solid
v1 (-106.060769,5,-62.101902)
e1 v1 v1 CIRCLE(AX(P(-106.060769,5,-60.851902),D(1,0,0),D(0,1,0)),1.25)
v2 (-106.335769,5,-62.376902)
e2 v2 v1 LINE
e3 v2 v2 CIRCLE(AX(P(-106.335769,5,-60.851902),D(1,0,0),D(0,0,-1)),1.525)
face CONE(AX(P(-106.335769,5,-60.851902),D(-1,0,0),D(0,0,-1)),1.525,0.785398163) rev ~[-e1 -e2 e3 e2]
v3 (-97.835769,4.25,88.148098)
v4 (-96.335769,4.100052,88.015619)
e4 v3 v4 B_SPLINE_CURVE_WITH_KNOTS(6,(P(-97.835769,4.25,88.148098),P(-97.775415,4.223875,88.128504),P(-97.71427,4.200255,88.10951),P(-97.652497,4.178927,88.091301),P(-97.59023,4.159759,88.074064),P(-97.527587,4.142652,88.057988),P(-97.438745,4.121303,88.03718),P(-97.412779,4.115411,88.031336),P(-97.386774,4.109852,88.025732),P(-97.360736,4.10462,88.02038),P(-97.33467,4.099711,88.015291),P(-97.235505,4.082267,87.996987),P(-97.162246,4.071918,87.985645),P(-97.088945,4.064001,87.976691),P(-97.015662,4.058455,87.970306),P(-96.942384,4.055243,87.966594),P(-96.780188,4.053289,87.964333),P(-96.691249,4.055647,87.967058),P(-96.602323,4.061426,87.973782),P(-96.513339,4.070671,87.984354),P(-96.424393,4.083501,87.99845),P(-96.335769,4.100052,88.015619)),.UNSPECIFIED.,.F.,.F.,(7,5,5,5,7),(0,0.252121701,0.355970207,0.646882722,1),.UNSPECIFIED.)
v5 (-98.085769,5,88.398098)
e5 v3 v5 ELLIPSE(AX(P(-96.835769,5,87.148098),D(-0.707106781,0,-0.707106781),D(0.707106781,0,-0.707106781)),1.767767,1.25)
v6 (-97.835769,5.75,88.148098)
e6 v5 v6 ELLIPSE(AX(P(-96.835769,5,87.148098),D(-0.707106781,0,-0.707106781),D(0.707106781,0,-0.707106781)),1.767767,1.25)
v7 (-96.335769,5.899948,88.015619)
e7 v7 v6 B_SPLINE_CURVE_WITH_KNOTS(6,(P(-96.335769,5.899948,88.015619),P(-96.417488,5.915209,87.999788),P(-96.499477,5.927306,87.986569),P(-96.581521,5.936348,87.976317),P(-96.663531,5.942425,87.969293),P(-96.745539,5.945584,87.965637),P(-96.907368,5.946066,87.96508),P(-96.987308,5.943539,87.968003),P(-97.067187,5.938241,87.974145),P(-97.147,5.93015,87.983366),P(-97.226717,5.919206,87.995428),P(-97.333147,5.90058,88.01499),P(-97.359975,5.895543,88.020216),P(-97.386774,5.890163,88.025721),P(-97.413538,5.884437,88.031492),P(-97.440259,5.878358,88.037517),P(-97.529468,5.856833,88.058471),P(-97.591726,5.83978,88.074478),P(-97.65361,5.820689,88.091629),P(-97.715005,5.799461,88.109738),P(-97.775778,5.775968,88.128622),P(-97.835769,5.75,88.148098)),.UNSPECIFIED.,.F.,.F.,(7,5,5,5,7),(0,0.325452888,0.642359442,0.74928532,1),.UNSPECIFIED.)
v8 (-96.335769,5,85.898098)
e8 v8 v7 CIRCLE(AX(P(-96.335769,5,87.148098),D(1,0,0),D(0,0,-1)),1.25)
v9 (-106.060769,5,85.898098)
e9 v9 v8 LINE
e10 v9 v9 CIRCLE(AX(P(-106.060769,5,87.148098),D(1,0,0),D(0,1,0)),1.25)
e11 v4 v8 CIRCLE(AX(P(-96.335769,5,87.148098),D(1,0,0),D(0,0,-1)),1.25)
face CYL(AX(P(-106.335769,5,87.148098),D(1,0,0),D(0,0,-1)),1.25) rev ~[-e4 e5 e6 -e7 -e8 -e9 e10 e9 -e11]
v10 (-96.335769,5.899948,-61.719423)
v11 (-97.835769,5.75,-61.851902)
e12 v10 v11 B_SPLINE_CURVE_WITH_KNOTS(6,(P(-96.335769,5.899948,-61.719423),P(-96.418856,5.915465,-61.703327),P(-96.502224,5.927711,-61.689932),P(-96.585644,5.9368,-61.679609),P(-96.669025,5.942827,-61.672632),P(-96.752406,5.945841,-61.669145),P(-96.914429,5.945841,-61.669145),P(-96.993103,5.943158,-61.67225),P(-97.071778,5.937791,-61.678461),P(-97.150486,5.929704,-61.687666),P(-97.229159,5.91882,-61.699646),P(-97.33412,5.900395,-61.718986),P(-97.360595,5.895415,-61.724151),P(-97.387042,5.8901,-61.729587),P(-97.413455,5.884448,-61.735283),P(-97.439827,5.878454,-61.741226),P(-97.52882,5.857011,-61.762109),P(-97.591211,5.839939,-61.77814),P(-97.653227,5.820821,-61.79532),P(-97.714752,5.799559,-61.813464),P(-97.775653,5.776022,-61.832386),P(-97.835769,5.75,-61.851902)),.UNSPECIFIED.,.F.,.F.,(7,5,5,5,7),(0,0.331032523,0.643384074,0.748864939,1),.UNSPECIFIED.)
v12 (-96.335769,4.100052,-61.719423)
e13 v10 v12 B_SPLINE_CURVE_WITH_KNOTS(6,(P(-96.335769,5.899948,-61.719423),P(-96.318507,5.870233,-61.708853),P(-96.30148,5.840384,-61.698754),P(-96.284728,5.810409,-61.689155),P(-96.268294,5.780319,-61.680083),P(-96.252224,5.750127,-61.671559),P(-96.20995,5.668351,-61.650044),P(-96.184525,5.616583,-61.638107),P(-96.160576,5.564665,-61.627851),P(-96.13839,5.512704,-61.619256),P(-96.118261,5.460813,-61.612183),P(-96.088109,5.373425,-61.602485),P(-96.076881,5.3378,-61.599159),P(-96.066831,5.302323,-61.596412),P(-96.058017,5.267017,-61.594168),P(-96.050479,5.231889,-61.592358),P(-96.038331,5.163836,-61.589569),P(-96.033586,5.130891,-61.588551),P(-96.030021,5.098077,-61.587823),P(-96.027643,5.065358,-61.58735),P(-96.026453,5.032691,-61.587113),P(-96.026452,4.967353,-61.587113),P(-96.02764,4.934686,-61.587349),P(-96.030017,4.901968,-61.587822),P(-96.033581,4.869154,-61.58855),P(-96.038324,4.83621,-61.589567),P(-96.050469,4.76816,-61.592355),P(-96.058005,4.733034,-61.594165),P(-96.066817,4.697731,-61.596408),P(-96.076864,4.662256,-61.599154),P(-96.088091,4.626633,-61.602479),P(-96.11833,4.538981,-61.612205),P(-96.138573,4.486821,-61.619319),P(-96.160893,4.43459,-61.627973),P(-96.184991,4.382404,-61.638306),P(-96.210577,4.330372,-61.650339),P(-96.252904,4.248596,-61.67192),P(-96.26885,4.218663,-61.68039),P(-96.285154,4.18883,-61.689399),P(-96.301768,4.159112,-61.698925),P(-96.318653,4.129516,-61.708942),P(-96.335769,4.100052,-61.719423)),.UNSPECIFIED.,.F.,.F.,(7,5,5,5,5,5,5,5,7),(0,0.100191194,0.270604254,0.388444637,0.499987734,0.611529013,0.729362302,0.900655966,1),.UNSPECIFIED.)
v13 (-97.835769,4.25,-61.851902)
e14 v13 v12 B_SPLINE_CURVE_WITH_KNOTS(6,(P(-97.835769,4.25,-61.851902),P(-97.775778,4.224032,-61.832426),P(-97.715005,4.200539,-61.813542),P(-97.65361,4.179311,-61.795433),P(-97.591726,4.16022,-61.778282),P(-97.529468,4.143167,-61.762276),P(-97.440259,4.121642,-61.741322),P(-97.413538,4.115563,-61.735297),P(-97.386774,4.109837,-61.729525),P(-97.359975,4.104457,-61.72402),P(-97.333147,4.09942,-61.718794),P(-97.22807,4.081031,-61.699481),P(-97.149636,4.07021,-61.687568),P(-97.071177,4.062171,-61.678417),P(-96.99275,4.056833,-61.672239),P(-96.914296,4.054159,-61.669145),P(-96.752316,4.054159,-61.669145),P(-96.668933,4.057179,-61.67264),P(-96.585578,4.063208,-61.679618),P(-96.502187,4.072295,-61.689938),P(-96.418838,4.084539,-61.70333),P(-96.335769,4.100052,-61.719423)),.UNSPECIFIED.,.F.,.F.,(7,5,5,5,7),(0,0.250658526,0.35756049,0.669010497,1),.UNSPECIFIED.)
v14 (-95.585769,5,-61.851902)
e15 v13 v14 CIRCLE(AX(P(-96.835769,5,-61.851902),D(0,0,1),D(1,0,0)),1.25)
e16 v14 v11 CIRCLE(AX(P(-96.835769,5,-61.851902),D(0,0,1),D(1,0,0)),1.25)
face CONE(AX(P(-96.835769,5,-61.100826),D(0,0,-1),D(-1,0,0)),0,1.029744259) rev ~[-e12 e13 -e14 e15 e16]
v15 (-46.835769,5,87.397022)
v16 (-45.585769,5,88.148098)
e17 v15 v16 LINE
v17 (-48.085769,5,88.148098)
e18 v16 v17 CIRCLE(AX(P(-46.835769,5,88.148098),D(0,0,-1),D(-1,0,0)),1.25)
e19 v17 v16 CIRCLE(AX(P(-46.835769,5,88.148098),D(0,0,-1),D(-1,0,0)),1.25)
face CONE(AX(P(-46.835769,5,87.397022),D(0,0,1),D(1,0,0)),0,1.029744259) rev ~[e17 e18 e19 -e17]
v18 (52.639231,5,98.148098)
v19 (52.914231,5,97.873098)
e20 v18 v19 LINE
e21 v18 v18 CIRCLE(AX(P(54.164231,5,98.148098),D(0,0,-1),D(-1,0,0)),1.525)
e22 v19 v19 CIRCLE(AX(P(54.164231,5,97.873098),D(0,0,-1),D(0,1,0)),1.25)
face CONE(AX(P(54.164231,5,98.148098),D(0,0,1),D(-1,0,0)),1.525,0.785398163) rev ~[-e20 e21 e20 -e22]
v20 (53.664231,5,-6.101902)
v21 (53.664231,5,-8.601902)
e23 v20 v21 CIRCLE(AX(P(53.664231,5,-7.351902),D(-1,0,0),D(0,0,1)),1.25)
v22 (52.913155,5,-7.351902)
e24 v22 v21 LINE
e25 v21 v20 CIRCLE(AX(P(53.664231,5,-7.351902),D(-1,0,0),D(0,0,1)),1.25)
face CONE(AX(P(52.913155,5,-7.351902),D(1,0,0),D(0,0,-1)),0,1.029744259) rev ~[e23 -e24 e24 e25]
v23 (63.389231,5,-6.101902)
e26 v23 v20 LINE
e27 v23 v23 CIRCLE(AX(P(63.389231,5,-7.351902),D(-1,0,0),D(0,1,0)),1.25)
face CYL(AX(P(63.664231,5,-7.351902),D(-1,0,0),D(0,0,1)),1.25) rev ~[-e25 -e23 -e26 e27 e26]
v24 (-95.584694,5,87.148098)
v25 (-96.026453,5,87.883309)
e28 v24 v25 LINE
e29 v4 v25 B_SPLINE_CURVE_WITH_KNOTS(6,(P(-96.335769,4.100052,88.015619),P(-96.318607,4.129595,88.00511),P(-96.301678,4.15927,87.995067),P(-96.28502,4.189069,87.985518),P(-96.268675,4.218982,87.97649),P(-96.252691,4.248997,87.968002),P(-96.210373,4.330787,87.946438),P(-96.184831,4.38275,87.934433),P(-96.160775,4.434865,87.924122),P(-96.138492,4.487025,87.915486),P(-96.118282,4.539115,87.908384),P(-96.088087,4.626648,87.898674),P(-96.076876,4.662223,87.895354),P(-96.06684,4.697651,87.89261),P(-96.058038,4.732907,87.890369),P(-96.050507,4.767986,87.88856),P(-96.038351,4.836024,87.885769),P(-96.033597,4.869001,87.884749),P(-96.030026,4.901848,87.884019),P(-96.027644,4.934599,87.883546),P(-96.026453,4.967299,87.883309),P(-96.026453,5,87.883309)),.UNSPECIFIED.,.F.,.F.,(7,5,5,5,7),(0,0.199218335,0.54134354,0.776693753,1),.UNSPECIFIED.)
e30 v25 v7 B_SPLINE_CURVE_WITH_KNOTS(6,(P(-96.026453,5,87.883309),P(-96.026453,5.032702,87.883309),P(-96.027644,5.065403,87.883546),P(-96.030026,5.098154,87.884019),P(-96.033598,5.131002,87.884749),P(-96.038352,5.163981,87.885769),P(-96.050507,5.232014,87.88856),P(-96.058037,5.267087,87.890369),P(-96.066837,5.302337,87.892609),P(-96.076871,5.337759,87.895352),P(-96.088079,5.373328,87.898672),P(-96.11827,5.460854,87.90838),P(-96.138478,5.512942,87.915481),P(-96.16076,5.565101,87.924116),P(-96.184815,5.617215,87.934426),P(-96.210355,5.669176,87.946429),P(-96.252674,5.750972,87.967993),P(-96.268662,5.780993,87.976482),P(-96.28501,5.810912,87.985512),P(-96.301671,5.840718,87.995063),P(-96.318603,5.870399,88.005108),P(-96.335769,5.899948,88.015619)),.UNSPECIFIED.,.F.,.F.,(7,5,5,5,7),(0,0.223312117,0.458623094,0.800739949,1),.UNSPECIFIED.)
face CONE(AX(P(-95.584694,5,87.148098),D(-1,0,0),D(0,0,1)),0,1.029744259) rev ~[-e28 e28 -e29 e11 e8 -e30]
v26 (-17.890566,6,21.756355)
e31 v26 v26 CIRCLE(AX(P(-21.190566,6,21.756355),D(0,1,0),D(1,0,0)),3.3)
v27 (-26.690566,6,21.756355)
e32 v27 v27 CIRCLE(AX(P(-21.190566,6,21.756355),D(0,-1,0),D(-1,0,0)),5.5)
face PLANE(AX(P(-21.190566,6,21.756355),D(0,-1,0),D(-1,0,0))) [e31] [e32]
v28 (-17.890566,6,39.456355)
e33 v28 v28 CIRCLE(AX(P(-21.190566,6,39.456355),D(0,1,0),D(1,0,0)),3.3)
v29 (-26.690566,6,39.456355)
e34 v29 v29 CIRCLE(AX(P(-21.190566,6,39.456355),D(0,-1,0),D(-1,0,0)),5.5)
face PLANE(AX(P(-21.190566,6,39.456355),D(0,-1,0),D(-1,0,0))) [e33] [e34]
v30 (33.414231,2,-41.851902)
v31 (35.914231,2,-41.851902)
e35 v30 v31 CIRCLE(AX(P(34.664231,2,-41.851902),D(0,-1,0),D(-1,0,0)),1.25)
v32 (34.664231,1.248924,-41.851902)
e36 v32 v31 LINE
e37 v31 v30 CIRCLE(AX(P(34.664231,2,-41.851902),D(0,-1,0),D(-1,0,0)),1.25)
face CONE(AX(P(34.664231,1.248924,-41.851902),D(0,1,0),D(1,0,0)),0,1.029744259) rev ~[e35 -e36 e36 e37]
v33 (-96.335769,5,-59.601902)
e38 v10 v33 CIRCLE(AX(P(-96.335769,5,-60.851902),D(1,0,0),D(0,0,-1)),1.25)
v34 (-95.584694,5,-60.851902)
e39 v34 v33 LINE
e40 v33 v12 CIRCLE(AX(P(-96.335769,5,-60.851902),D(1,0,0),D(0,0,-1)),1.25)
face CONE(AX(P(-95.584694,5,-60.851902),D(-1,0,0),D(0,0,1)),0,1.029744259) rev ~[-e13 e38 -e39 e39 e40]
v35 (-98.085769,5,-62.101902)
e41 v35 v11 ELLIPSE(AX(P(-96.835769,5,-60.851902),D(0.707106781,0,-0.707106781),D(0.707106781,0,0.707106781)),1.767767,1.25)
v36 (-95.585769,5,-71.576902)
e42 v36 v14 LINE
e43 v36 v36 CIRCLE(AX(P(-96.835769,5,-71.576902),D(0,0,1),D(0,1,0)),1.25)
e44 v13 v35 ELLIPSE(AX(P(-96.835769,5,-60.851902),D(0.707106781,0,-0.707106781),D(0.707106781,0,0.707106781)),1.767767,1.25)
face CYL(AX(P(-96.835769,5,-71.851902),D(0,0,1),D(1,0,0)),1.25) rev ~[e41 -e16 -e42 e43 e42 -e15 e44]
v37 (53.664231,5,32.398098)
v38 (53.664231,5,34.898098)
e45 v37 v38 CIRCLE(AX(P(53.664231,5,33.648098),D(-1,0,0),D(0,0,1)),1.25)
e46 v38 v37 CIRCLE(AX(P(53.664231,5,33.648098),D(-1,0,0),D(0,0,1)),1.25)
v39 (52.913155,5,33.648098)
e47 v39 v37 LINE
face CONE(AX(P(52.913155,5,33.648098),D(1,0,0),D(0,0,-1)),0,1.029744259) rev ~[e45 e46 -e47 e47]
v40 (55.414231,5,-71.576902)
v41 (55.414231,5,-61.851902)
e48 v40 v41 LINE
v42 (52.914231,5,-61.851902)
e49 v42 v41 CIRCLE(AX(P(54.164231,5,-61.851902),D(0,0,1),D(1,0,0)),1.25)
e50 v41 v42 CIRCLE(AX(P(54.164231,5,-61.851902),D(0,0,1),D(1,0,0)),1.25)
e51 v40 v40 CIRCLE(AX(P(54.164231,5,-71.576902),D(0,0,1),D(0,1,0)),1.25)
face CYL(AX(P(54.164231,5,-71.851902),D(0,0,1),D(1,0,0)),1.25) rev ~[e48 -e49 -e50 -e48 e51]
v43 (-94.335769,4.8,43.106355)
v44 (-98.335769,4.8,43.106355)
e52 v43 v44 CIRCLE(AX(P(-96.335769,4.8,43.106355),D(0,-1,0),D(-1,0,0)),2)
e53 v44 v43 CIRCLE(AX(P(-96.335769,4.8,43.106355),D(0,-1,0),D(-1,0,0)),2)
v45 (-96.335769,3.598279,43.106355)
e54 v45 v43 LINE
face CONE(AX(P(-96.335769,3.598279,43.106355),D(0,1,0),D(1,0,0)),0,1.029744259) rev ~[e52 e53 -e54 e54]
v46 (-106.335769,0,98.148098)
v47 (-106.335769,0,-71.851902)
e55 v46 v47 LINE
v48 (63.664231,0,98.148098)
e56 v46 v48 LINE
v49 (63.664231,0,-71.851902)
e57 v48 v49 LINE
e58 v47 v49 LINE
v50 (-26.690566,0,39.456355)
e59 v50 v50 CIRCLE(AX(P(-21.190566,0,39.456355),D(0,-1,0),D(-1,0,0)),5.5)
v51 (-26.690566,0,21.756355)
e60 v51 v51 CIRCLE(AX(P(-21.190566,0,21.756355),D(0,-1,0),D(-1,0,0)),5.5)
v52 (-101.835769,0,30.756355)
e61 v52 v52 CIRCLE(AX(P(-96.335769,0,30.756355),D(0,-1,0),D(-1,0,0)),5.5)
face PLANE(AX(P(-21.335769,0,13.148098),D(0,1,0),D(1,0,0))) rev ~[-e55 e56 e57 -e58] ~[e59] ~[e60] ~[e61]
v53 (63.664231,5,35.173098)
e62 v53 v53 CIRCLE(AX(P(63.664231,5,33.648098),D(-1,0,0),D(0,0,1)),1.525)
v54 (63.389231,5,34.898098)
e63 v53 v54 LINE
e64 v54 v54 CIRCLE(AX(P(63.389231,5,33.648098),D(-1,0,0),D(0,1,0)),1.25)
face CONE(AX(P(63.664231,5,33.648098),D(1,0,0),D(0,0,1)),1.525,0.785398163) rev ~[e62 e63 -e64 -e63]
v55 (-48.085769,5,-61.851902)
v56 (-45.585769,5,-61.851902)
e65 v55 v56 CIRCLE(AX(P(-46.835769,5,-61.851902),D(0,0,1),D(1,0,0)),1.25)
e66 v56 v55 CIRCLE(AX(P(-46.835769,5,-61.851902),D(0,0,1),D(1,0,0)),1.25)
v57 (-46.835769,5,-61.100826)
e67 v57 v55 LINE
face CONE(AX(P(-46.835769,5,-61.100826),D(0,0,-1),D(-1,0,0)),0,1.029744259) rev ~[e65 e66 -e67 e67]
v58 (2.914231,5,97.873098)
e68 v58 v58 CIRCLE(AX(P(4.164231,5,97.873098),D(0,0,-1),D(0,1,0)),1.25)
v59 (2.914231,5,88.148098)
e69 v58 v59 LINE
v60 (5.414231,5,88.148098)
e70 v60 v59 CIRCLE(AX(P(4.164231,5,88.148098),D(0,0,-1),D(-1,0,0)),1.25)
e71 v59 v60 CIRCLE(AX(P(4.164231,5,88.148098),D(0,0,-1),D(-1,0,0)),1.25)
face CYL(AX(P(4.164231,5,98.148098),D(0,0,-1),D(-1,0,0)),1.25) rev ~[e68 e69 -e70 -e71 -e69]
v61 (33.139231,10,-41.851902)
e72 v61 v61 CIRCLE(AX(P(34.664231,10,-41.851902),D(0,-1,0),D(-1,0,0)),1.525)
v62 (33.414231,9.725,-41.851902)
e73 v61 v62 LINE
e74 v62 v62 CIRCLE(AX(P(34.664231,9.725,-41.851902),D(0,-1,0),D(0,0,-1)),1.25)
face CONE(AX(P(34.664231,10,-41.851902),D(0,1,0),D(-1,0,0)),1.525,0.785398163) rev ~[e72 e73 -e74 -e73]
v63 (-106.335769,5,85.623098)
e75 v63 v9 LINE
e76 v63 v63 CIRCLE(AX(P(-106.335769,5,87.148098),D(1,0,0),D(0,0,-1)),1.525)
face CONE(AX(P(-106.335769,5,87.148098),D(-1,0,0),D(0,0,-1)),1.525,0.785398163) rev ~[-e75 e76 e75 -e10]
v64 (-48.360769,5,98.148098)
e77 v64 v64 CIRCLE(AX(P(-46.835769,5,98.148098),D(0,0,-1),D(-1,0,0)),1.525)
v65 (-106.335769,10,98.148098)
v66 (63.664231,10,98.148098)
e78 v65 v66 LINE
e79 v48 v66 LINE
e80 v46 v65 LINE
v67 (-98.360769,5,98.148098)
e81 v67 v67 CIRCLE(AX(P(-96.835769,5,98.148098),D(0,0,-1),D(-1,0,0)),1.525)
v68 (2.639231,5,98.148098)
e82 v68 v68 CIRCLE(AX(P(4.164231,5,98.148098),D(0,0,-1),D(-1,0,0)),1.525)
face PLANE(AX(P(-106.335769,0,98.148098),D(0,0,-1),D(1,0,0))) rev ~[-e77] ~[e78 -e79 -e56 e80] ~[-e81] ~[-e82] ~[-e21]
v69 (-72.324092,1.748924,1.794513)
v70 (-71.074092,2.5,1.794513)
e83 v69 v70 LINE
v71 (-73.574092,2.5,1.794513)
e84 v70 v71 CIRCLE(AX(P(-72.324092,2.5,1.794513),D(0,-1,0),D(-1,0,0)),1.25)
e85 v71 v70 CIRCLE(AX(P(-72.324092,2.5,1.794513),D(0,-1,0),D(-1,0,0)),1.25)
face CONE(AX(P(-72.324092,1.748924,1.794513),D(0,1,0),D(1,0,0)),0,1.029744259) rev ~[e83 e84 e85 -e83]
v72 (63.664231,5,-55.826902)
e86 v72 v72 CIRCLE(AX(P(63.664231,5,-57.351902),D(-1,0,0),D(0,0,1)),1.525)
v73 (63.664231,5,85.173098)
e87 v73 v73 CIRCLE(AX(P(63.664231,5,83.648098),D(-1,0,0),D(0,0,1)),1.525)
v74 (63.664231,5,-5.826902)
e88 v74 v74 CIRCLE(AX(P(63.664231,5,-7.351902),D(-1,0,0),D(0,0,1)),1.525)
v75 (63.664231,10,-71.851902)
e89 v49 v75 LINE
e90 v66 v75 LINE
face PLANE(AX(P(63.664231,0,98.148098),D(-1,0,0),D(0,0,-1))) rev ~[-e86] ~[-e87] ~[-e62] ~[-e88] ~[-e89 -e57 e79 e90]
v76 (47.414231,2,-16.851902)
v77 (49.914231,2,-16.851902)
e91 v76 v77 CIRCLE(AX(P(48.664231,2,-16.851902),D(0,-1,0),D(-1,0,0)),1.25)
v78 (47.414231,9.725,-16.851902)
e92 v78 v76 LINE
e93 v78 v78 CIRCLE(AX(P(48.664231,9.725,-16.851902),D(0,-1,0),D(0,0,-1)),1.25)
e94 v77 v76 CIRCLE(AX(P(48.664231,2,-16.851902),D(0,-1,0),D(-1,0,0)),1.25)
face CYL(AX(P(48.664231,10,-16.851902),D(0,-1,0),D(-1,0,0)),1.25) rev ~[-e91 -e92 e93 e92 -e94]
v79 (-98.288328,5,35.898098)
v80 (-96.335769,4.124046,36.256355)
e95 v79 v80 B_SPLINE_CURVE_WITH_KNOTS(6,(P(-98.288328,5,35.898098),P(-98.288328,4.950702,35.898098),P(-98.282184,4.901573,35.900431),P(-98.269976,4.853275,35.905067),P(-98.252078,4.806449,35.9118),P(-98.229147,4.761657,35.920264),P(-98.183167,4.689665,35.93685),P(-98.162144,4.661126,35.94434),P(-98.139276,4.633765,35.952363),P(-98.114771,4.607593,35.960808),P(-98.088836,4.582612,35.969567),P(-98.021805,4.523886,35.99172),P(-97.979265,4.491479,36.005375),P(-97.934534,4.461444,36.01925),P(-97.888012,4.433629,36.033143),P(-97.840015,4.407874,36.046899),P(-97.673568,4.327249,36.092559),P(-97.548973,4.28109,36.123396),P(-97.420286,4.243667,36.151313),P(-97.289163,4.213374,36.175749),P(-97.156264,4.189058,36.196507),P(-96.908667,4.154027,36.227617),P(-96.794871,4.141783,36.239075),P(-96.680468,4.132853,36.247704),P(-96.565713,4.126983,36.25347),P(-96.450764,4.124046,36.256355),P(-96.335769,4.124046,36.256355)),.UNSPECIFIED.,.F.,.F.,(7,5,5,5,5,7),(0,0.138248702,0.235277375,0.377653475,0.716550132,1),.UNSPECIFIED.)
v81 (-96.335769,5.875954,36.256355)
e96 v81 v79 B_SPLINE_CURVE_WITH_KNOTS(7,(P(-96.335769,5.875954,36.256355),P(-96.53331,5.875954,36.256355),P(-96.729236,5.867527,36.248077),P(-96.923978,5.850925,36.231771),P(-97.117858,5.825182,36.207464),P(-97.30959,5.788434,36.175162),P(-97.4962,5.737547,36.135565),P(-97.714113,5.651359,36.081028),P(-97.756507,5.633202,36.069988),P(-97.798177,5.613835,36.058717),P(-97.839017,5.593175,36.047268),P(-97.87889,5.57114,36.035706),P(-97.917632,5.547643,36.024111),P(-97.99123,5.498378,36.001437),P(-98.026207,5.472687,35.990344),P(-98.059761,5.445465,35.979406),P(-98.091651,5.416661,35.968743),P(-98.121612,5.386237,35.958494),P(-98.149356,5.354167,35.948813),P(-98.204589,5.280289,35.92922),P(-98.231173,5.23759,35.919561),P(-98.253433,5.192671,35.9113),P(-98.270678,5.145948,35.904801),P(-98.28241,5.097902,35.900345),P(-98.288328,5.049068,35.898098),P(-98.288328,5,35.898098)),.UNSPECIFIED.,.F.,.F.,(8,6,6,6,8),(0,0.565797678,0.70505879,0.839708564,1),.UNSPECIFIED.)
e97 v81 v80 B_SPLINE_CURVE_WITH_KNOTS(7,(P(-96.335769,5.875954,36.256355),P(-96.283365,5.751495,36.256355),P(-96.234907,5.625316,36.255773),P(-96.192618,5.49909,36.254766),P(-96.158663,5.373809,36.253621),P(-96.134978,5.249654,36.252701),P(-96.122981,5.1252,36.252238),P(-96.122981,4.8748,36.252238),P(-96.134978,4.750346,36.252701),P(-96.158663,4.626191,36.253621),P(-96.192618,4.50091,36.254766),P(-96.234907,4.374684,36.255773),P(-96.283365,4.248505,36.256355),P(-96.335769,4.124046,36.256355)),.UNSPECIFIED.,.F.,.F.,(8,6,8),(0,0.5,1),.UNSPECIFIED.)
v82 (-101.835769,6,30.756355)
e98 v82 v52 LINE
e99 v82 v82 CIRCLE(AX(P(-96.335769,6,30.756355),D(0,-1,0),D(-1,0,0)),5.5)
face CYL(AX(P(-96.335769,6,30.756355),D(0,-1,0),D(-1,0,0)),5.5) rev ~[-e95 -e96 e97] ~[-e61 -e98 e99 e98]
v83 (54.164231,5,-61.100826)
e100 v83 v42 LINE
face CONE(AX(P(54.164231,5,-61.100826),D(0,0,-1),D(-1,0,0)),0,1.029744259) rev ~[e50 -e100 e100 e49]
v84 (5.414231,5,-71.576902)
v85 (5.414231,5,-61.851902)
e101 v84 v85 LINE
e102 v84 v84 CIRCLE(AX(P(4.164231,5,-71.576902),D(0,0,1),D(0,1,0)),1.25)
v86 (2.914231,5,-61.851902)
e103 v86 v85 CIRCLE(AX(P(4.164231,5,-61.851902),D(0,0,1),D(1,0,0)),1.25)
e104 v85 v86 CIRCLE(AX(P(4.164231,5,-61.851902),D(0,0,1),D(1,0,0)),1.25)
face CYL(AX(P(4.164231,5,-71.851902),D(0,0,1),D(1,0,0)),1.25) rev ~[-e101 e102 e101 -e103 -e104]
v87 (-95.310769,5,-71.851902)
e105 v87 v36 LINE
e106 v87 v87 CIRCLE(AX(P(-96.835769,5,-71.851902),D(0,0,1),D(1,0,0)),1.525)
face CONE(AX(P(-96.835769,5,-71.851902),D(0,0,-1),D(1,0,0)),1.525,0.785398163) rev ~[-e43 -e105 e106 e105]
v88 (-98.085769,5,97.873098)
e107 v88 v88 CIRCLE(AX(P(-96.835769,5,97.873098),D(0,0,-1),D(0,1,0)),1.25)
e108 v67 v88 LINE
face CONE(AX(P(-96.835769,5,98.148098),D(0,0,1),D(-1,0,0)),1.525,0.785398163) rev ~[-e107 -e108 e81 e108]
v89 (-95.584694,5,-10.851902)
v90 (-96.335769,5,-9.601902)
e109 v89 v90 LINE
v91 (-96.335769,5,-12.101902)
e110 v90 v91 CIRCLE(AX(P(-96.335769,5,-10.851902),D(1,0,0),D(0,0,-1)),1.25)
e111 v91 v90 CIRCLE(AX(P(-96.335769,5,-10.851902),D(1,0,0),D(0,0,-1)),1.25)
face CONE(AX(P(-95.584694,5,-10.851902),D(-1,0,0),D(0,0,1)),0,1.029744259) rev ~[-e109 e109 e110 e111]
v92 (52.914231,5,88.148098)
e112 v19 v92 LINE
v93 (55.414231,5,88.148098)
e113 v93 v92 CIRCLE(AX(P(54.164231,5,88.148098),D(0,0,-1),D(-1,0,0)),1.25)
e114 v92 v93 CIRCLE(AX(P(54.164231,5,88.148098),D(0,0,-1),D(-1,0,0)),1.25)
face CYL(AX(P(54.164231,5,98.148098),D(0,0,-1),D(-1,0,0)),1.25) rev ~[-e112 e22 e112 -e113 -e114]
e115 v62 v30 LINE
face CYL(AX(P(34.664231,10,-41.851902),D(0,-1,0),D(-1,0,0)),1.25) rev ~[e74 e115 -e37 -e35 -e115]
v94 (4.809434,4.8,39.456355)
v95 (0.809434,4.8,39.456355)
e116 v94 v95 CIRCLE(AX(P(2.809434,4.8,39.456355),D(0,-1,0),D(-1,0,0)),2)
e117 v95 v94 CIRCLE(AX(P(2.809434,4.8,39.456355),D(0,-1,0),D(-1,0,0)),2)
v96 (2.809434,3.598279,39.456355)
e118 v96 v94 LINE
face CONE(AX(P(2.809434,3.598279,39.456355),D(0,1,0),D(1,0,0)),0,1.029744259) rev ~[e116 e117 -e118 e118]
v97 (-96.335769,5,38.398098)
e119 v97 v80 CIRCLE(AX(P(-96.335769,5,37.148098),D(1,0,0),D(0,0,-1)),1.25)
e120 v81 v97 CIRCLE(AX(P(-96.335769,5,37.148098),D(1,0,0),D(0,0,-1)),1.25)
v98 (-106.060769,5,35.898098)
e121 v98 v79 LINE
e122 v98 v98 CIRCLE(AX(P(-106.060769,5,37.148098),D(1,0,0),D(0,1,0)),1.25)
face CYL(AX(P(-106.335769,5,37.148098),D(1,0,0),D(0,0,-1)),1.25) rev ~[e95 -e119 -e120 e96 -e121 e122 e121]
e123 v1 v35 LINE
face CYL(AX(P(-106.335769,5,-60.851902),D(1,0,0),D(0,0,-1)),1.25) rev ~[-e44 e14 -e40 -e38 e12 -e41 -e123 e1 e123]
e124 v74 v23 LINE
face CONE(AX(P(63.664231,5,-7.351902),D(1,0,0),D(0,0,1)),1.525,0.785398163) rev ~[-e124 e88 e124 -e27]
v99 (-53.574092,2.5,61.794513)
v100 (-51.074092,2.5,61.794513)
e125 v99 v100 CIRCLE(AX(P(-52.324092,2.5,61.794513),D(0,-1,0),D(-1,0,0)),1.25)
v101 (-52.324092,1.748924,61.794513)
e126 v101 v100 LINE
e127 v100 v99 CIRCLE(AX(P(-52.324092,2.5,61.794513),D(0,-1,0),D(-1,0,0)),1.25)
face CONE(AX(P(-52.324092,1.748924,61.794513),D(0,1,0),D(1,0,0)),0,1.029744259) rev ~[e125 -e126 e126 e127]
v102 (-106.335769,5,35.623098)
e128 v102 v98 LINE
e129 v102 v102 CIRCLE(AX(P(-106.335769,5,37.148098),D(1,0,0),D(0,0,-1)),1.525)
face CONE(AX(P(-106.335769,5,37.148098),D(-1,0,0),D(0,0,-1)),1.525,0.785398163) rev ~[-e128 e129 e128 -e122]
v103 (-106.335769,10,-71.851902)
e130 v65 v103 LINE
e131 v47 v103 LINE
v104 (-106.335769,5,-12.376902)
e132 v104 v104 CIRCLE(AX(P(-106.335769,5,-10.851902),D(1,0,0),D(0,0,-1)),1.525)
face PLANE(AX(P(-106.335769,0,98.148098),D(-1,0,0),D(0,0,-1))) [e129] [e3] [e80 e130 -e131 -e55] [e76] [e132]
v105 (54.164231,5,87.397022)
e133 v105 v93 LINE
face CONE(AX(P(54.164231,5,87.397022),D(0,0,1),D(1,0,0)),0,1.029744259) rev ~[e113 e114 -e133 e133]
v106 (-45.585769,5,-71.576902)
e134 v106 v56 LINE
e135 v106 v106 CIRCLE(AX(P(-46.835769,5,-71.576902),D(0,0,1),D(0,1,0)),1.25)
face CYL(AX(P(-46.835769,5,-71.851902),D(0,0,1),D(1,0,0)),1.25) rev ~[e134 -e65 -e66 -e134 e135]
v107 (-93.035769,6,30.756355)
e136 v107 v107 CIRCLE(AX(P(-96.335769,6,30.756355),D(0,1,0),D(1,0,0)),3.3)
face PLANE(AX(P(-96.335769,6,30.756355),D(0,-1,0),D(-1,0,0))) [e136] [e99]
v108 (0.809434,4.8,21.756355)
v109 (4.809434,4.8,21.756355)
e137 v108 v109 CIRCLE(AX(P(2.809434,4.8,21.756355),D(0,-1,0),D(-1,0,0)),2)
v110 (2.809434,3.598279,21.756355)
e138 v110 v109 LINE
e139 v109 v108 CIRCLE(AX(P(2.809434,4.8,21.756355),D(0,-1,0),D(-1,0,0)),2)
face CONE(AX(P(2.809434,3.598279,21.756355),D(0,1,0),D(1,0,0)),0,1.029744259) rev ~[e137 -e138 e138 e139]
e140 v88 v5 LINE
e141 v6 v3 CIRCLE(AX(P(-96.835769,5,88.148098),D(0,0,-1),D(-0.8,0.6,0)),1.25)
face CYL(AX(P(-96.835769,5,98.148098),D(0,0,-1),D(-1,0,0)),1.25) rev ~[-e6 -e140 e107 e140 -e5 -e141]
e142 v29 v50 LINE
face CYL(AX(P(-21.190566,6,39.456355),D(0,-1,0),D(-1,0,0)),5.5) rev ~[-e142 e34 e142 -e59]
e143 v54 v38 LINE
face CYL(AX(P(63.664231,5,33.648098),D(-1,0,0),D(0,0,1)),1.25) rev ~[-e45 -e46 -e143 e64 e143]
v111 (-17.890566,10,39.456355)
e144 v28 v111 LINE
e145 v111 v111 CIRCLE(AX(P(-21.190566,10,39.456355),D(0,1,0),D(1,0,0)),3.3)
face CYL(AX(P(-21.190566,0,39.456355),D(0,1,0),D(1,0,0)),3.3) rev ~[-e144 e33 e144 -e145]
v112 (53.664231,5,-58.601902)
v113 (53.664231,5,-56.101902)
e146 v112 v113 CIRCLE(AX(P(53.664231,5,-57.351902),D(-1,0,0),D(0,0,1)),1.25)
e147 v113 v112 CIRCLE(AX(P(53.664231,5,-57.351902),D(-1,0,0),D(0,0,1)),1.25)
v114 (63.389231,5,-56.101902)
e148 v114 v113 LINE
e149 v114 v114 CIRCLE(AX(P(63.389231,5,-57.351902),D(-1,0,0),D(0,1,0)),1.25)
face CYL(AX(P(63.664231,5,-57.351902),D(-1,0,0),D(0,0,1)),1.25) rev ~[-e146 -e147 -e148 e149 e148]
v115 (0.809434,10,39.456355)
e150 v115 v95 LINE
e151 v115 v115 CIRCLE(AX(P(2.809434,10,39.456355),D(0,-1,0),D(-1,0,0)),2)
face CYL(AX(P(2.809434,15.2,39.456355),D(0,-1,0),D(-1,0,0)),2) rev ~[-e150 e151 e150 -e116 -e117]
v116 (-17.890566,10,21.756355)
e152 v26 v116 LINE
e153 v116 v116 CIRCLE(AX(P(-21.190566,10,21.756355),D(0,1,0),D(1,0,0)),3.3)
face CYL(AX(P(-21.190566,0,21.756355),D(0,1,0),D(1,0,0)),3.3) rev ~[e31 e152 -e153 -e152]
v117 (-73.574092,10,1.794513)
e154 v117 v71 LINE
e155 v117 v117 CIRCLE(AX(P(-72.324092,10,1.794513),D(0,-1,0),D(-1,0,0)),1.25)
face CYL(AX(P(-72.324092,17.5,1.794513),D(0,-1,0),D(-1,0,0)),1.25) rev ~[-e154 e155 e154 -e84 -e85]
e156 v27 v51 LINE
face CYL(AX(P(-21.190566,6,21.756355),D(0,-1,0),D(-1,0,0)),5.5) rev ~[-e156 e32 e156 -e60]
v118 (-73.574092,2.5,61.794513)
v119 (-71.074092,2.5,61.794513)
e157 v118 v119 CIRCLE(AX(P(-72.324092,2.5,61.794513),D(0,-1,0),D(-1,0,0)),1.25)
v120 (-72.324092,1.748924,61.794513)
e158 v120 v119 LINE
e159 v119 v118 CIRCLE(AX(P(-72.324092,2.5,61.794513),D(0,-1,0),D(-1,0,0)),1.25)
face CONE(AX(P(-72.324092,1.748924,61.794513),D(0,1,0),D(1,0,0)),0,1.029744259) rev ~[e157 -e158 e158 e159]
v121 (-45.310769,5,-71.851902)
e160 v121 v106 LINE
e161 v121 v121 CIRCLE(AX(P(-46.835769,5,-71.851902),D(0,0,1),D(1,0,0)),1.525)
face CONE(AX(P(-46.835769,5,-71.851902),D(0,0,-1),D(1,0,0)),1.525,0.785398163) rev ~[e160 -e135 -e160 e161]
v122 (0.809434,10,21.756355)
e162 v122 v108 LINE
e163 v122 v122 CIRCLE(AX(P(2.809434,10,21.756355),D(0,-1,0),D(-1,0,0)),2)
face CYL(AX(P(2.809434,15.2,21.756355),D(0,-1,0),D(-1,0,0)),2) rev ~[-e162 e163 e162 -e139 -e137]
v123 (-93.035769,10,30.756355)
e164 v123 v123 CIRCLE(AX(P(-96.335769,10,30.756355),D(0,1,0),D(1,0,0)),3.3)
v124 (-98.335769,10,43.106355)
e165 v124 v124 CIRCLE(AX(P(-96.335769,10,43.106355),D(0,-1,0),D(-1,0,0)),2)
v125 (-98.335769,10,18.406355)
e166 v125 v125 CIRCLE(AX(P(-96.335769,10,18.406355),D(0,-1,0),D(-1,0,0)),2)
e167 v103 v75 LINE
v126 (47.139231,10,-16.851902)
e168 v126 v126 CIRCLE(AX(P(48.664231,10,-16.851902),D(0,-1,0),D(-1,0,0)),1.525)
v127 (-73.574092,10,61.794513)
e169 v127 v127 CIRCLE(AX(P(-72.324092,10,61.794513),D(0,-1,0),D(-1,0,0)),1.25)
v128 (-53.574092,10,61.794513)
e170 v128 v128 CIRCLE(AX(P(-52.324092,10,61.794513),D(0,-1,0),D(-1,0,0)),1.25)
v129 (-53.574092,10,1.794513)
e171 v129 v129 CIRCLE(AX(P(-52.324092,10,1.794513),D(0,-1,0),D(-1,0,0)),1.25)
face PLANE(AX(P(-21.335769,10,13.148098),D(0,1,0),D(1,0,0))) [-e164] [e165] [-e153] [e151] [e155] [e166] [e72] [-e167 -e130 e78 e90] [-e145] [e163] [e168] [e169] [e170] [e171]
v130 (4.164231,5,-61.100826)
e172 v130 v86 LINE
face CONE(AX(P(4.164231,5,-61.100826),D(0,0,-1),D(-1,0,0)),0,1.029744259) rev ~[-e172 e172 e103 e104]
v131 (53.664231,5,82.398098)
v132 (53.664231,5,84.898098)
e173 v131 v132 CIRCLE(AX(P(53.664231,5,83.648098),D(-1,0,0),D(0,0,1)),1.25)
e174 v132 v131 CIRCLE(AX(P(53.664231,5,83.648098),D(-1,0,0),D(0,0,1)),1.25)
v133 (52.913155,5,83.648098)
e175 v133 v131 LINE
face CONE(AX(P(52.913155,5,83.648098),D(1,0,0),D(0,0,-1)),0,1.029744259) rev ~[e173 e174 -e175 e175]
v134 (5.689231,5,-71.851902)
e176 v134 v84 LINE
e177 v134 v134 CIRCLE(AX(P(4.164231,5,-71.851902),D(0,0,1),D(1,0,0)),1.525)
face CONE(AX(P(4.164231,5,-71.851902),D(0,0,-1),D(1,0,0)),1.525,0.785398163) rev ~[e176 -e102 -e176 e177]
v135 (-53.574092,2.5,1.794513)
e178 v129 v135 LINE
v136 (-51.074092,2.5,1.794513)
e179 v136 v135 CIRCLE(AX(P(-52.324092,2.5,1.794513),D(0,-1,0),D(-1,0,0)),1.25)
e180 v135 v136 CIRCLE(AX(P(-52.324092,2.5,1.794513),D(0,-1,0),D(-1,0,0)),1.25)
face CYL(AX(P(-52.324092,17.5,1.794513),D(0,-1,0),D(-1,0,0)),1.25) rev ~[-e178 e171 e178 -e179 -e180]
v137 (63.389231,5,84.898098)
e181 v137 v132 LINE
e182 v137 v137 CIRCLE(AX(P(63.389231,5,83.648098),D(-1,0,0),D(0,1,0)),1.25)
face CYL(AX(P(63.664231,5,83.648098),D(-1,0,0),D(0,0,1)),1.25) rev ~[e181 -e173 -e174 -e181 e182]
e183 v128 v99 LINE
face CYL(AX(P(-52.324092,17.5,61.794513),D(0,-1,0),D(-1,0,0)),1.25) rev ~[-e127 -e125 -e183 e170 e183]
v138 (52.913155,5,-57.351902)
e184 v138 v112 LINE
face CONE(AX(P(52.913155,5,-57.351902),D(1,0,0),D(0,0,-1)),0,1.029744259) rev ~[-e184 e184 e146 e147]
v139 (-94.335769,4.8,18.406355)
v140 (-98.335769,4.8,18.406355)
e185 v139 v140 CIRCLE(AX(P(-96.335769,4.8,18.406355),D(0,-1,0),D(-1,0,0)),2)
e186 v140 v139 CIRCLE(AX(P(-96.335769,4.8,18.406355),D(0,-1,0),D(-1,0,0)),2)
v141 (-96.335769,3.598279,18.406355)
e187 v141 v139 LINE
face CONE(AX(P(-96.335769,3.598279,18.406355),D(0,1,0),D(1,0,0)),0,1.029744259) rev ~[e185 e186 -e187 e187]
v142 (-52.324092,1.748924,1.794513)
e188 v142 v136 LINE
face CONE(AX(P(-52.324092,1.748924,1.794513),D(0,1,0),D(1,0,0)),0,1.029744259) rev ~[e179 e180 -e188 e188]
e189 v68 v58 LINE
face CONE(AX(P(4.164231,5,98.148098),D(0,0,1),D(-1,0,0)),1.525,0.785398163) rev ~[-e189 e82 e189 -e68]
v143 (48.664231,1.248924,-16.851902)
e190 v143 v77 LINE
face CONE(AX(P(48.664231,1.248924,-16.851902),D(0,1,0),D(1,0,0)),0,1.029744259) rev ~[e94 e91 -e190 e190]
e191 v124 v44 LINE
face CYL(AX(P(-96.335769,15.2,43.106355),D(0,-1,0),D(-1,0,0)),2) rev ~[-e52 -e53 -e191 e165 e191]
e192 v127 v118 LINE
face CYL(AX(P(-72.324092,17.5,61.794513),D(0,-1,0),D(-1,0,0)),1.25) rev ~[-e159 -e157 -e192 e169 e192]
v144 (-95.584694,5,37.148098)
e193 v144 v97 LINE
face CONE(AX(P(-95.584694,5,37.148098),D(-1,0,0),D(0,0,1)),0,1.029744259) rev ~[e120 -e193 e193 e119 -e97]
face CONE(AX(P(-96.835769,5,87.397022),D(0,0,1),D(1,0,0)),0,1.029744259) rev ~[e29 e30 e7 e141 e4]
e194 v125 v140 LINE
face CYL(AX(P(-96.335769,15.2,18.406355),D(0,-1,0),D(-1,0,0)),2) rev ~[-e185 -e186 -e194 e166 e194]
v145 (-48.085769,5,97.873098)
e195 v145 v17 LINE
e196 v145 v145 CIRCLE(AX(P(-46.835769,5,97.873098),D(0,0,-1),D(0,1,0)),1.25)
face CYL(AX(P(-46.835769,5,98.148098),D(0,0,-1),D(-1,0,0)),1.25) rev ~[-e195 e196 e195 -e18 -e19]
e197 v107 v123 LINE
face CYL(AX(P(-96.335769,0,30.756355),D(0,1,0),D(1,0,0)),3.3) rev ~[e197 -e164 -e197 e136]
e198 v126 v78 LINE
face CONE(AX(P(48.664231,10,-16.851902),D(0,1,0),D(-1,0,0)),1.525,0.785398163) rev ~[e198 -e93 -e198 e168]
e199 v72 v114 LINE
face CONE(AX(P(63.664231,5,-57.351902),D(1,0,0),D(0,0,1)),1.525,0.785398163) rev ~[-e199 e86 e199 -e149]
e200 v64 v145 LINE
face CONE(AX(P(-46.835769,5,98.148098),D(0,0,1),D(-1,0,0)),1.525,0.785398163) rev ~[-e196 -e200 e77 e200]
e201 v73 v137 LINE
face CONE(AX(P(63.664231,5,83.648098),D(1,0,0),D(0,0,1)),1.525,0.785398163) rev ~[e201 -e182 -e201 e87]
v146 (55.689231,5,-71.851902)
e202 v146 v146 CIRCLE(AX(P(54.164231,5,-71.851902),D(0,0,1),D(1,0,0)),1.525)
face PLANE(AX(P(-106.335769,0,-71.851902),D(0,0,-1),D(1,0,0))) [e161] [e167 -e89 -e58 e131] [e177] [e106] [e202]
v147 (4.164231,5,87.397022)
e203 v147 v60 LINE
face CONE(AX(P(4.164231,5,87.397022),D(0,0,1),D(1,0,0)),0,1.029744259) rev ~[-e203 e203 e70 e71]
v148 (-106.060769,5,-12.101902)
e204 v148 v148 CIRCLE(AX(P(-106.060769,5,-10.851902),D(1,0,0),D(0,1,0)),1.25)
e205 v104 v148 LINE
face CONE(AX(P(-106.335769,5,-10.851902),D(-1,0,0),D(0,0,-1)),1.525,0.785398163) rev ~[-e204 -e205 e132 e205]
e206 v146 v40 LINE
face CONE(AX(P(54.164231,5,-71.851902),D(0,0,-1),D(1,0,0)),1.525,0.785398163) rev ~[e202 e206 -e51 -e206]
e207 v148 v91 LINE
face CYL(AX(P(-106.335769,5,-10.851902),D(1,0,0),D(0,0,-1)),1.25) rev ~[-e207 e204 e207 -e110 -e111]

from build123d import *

# Parameters (mm, degrees)
SKETCH1_W                       = 170
SKETCH1_H                       = 170
BOSS_EXTRUDE1_DEPTH             = 10
F_4_0MM_DOWEL_HOLE1_D           = 4
F_4_0MM_DOWEL_HOLE1_DEPTH       = 5.2
F_4_0MM_DOWEL_HOLE1_TIP         = 1.201721238
CBORE_FOR_M6_SHCS1_D            = 6.6
CBORE_FOR_M6_SHCS1_DEPTH        = 10
CBORE_FOR_M6_SHCS1_CBORE_D      = 11
CBORE_FOR_M6_SHCS1_CBORE_DEPTH  = 6
M3X0_5_TAPPED_HOLE1_D           = 2.5
M3X0_5_TAPPED_HOLE1_DEPTH       = 7.5
M3X0_5_TAPPED_HOLE1_TIP         = 0.751075774
M3X0_5_TAPPED_HOLE2_D           = 2.5
M3X0_5_TAPPED_HOLE2_DEPTH       = 10
M3X0_5_TAPPED_HOLE2_CSINK_D     = 3.05
M3X0_5_TAPPED_HOLE2_CSINK_ANGLE = 90
M3X0_5_TAPPED_HOLE2_TIP         = 0.751075774
M3X0_5_TAPPED_HOLE3_D           = 2.5
M3X0_5_TAPPED_HOLE3_DEPTH       = 10
M3X0_5_TAPPED_HOLE3_CSINK_D     = 3.05
M3X0_5_TAPPED_HOLE3_CSINK_ANGLE = 90
M3X0_5_TAPPED_HOLE3_TIP         = 0.751075774
M3X0_5_TAPPED_HOLE4_D           = 2.5
M3X0_5_TAPPED_HOLE4_DEPTH       = 10
M3X0_5_TAPPED_HOLE4_CSINK_D     = 3.05
M3X0_5_TAPPED_HOLE4_CSINK_ANGLE = 90
M3X0_5_TAPPED_HOLE4_TIP         = 0.751075774
M3X0_5_TAPPED_HOLE5_D           = 2.5
M3X0_5_TAPPED_HOLE5_DEPTH       = 10
M3X0_5_TAPPED_HOLE5_CSINK_D     = 3.05
M3X0_5_TAPPED_HOLE5_CSINK_ANGLE = 90
M3X0_5_TAPPED_HOLE5_TIP         = 0.751075774
M3X0_5_TAPPED_HOLE6_D           = 2.5
M3X0_5_TAPPED_HOLE6_DEPTH       = 8
M3X0_5_TAPPED_HOLE6_CSINK_D     = 3.05
M3X0_5_TAPPED_HOLE6_CSINK_ANGLE = 90
M3X0_5_TAPPED_HOLE6_TIP         = 0.751075774


with BuildPart() as part:
    # Sketch1 → Boss-Extrude1 (new body)
    with BuildSketch(Plane(origin=(0, 0, 0), x_dir=(1, 0, 0), z_dir=(0, 1, 0))):
        with Locations((-21.335769449, -13.148097821)):
            Rectangle(SKETCH1_W, SKETCH1_H)
    extrude(amount=BOSS_EXTRUDE1_DEPTH)

    # Ø4.0mm Dowel Hole1
    with Locations(Plane(origin=(0, 10, 0), x_dir=(1, 0, 0), z_dir=(0, 1, 0))):
        with Locations((2.809433667, -21.75635539), (2.809433667, -39.45635539), (-96.335769449, -18.40635539), (-96.335769449, -43.10635539)):
            Hole(F_4_0MM_DOWEL_HOLE1_D / 2, depth=F_4_0MM_DOWEL_HOLE1_DEPTH)
            with Locations((0, 0, -(F_4_0MM_DOWEL_HOLE1_DEPTH + F_4_0MM_DOWEL_HOLE1_TIP / 2))):  # 118° drill point
                Cone(0, F_4_0MM_DOWEL_HOLE1_D / 2, F_4_0MM_DOWEL_HOLE1_TIP, mode=Mode.SUBTRACT)

    # CBORE for M6 SHCS1
    with Locations(Plane(origin=(0, 0, 0), x_dir=(-1, 0, 0), z_dir=(0, -1, 0))):
        with Locations((96.335769449, -30.75635539), (21.190566333, -39.45635539), (21.190566333, -21.75635539)):
            CounterBoreHole(CBORE_FOR_M6_SHCS1_D / 2, CBORE_FOR_M6_SHCS1_CBORE_D / 2, CBORE_FOR_M6_SHCS1_CBORE_DEPTH, depth=CBORE_FOR_M6_SHCS1_DEPTH)

    # M3x0.5 Tapped Hole1
    with Locations(Plane(origin=(0, 10, 0), x_dir=(1, 0, 0), z_dir=(0, 1, 0))):
        with Locations((-72.324091559, -61.794513309), (-52.324091559, -61.794513309), (-72.324091559, -1.794513309), (-52.324091559, -1.794513309)):
            Hole(M3X0_5_TAPPED_HOLE1_D / 2, depth=M3X0_5_TAPPED_HOLE1_DEPTH)
            with Locations((0, 0, -(M3X0_5_TAPPED_HOLE1_DEPTH + M3X0_5_TAPPED_HOLE1_TIP / 2))):  # 118° drill point
                Cone(0, M3X0_5_TAPPED_HOLE1_D / 2, M3X0_5_TAPPED_HOLE1_TIP, mode=Mode.SUBTRACT)

    # M3x0.5 Tapped Hole2
    with Locations(Plane.XY.offset(98.148097821)):
        with Locations((-96.835769449, 5), (-46.835769449, 5), (4.164230551, 5), (54.164230551, 5)):
            CounterSinkHole(M3X0_5_TAPPED_HOLE2_D / 2, M3X0_5_TAPPED_HOLE2_CSINK_D / 2, depth=M3X0_5_TAPPED_HOLE2_DEPTH, counter_sink_angle=M3X0_5_TAPPED_HOLE2_CSINK_ANGLE)
            with Locations((0, 0, -(M3X0_5_TAPPED_HOLE2_DEPTH + M3X0_5_TAPPED_HOLE2_TIP / 2))):  # 118° drill point
                Cone(0, M3X0_5_TAPPED_HOLE2_D / 2, M3X0_5_TAPPED_HOLE2_TIP, mode=Mode.SUBTRACT)

    # M3x0.5 Tapped Hole3
    with Locations(Plane.ZY.offset(106.335769449)):
        with Locations((-60.851902179, 5), (-10.851902179, 5), (37.148097821, 5), (87.148097821, 5)):
            CounterSinkHole(M3X0_5_TAPPED_HOLE3_D / 2, M3X0_5_TAPPED_HOLE3_CSINK_D / 2, depth=M3X0_5_TAPPED_HOLE3_DEPTH, counter_sink_angle=M3X0_5_TAPPED_HOLE3_CSINK_ANGLE)
            with Locations((0, 0, -(M3X0_5_TAPPED_HOLE3_DEPTH + M3X0_5_TAPPED_HOLE3_TIP / 2))):  # 118° drill point
                Cone(0, M3X0_5_TAPPED_HOLE3_D / 2, M3X0_5_TAPPED_HOLE3_TIP, mode=Mode.SUBTRACT)

    # M3x0.5 Tapped Hole4
    with Locations(Plane(origin=(0, 0, -71.851902179), x_dir=(-1, 0, 0), z_dir=(0, 0, -1))):
        with Locations((-54.164230551, 5), (-4.164230551, 5), (46.835769449, 5), (96.835769449, 5)):
            CounterSinkHole(M3X0_5_TAPPED_HOLE4_D / 2, M3X0_5_TAPPED_HOLE4_CSINK_D / 2, depth=M3X0_5_TAPPED_HOLE4_DEPTH, counter_sink_angle=M3X0_5_TAPPED_HOLE4_CSINK_ANGLE)
            with Locations((0, 0, -(M3X0_5_TAPPED_HOLE4_DEPTH + M3X0_5_TAPPED_HOLE4_TIP / 2))):  # 118° drill point
                Cone(0, M3X0_5_TAPPED_HOLE4_D / 2, M3X0_5_TAPPED_HOLE4_TIP, mode=Mode.SUBTRACT)

    # M3x0.5 Tapped Hole5
    with Locations(Plane(origin=(63.664230551, 0, 0), x_dir=(0, 0, -1), z_dir=(1, 0, 0))):
        with Locations((-83.648097821, 5), (-33.648097821, 5), (7.351902179, 5), (57.351902179, 5)):
            CounterSinkHole(M3X0_5_TAPPED_HOLE5_D / 2, M3X0_5_TAPPED_HOLE5_CSINK_D / 2, depth=M3X0_5_TAPPED_HOLE5_DEPTH, counter_sink_angle=M3X0_5_TAPPED_HOLE5_CSINK_ANGLE)
            with Locations((0, 0, -(M3X0_5_TAPPED_HOLE5_DEPTH + M3X0_5_TAPPED_HOLE5_TIP / 2))):  # 118° drill point
                Cone(0, M3X0_5_TAPPED_HOLE5_D / 2, M3X0_5_TAPPED_HOLE5_TIP, mode=Mode.SUBTRACT)

    # M3x0.5 Tapped Hole6
    with Locations(Plane(origin=(0, 10, 0), x_dir=(1, 0, 0), z_dir=(0, 1, 0))):
        with Locations((34.664230551, 41.851902179), (48.664230551, 16.851902179)):
            CounterSinkHole(M3X0_5_TAPPED_HOLE6_D / 2, M3X0_5_TAPPED_HOLE6_CSINK_D / 2, depth=M3X0_5_TAPPED_HOLE6_DEPTH, counter_sink_angle=M3X0_5_TAPPED_HOLE6_CSINK_ANGLE)
            with Locations((0, 0, -(M3X0_5_TAPPED_HOLE6_DEPTH + M3X0_5_TAPPED_HOLE6_TIP / 2))):  # 118° drill point
                Cone(0, M3X0_5_TAPPED_HOLE6_D / 2, M3X0_5_TAPPED_HOLE6_TIP, mode=Mode.SUBTRACT)


solid = part.part
